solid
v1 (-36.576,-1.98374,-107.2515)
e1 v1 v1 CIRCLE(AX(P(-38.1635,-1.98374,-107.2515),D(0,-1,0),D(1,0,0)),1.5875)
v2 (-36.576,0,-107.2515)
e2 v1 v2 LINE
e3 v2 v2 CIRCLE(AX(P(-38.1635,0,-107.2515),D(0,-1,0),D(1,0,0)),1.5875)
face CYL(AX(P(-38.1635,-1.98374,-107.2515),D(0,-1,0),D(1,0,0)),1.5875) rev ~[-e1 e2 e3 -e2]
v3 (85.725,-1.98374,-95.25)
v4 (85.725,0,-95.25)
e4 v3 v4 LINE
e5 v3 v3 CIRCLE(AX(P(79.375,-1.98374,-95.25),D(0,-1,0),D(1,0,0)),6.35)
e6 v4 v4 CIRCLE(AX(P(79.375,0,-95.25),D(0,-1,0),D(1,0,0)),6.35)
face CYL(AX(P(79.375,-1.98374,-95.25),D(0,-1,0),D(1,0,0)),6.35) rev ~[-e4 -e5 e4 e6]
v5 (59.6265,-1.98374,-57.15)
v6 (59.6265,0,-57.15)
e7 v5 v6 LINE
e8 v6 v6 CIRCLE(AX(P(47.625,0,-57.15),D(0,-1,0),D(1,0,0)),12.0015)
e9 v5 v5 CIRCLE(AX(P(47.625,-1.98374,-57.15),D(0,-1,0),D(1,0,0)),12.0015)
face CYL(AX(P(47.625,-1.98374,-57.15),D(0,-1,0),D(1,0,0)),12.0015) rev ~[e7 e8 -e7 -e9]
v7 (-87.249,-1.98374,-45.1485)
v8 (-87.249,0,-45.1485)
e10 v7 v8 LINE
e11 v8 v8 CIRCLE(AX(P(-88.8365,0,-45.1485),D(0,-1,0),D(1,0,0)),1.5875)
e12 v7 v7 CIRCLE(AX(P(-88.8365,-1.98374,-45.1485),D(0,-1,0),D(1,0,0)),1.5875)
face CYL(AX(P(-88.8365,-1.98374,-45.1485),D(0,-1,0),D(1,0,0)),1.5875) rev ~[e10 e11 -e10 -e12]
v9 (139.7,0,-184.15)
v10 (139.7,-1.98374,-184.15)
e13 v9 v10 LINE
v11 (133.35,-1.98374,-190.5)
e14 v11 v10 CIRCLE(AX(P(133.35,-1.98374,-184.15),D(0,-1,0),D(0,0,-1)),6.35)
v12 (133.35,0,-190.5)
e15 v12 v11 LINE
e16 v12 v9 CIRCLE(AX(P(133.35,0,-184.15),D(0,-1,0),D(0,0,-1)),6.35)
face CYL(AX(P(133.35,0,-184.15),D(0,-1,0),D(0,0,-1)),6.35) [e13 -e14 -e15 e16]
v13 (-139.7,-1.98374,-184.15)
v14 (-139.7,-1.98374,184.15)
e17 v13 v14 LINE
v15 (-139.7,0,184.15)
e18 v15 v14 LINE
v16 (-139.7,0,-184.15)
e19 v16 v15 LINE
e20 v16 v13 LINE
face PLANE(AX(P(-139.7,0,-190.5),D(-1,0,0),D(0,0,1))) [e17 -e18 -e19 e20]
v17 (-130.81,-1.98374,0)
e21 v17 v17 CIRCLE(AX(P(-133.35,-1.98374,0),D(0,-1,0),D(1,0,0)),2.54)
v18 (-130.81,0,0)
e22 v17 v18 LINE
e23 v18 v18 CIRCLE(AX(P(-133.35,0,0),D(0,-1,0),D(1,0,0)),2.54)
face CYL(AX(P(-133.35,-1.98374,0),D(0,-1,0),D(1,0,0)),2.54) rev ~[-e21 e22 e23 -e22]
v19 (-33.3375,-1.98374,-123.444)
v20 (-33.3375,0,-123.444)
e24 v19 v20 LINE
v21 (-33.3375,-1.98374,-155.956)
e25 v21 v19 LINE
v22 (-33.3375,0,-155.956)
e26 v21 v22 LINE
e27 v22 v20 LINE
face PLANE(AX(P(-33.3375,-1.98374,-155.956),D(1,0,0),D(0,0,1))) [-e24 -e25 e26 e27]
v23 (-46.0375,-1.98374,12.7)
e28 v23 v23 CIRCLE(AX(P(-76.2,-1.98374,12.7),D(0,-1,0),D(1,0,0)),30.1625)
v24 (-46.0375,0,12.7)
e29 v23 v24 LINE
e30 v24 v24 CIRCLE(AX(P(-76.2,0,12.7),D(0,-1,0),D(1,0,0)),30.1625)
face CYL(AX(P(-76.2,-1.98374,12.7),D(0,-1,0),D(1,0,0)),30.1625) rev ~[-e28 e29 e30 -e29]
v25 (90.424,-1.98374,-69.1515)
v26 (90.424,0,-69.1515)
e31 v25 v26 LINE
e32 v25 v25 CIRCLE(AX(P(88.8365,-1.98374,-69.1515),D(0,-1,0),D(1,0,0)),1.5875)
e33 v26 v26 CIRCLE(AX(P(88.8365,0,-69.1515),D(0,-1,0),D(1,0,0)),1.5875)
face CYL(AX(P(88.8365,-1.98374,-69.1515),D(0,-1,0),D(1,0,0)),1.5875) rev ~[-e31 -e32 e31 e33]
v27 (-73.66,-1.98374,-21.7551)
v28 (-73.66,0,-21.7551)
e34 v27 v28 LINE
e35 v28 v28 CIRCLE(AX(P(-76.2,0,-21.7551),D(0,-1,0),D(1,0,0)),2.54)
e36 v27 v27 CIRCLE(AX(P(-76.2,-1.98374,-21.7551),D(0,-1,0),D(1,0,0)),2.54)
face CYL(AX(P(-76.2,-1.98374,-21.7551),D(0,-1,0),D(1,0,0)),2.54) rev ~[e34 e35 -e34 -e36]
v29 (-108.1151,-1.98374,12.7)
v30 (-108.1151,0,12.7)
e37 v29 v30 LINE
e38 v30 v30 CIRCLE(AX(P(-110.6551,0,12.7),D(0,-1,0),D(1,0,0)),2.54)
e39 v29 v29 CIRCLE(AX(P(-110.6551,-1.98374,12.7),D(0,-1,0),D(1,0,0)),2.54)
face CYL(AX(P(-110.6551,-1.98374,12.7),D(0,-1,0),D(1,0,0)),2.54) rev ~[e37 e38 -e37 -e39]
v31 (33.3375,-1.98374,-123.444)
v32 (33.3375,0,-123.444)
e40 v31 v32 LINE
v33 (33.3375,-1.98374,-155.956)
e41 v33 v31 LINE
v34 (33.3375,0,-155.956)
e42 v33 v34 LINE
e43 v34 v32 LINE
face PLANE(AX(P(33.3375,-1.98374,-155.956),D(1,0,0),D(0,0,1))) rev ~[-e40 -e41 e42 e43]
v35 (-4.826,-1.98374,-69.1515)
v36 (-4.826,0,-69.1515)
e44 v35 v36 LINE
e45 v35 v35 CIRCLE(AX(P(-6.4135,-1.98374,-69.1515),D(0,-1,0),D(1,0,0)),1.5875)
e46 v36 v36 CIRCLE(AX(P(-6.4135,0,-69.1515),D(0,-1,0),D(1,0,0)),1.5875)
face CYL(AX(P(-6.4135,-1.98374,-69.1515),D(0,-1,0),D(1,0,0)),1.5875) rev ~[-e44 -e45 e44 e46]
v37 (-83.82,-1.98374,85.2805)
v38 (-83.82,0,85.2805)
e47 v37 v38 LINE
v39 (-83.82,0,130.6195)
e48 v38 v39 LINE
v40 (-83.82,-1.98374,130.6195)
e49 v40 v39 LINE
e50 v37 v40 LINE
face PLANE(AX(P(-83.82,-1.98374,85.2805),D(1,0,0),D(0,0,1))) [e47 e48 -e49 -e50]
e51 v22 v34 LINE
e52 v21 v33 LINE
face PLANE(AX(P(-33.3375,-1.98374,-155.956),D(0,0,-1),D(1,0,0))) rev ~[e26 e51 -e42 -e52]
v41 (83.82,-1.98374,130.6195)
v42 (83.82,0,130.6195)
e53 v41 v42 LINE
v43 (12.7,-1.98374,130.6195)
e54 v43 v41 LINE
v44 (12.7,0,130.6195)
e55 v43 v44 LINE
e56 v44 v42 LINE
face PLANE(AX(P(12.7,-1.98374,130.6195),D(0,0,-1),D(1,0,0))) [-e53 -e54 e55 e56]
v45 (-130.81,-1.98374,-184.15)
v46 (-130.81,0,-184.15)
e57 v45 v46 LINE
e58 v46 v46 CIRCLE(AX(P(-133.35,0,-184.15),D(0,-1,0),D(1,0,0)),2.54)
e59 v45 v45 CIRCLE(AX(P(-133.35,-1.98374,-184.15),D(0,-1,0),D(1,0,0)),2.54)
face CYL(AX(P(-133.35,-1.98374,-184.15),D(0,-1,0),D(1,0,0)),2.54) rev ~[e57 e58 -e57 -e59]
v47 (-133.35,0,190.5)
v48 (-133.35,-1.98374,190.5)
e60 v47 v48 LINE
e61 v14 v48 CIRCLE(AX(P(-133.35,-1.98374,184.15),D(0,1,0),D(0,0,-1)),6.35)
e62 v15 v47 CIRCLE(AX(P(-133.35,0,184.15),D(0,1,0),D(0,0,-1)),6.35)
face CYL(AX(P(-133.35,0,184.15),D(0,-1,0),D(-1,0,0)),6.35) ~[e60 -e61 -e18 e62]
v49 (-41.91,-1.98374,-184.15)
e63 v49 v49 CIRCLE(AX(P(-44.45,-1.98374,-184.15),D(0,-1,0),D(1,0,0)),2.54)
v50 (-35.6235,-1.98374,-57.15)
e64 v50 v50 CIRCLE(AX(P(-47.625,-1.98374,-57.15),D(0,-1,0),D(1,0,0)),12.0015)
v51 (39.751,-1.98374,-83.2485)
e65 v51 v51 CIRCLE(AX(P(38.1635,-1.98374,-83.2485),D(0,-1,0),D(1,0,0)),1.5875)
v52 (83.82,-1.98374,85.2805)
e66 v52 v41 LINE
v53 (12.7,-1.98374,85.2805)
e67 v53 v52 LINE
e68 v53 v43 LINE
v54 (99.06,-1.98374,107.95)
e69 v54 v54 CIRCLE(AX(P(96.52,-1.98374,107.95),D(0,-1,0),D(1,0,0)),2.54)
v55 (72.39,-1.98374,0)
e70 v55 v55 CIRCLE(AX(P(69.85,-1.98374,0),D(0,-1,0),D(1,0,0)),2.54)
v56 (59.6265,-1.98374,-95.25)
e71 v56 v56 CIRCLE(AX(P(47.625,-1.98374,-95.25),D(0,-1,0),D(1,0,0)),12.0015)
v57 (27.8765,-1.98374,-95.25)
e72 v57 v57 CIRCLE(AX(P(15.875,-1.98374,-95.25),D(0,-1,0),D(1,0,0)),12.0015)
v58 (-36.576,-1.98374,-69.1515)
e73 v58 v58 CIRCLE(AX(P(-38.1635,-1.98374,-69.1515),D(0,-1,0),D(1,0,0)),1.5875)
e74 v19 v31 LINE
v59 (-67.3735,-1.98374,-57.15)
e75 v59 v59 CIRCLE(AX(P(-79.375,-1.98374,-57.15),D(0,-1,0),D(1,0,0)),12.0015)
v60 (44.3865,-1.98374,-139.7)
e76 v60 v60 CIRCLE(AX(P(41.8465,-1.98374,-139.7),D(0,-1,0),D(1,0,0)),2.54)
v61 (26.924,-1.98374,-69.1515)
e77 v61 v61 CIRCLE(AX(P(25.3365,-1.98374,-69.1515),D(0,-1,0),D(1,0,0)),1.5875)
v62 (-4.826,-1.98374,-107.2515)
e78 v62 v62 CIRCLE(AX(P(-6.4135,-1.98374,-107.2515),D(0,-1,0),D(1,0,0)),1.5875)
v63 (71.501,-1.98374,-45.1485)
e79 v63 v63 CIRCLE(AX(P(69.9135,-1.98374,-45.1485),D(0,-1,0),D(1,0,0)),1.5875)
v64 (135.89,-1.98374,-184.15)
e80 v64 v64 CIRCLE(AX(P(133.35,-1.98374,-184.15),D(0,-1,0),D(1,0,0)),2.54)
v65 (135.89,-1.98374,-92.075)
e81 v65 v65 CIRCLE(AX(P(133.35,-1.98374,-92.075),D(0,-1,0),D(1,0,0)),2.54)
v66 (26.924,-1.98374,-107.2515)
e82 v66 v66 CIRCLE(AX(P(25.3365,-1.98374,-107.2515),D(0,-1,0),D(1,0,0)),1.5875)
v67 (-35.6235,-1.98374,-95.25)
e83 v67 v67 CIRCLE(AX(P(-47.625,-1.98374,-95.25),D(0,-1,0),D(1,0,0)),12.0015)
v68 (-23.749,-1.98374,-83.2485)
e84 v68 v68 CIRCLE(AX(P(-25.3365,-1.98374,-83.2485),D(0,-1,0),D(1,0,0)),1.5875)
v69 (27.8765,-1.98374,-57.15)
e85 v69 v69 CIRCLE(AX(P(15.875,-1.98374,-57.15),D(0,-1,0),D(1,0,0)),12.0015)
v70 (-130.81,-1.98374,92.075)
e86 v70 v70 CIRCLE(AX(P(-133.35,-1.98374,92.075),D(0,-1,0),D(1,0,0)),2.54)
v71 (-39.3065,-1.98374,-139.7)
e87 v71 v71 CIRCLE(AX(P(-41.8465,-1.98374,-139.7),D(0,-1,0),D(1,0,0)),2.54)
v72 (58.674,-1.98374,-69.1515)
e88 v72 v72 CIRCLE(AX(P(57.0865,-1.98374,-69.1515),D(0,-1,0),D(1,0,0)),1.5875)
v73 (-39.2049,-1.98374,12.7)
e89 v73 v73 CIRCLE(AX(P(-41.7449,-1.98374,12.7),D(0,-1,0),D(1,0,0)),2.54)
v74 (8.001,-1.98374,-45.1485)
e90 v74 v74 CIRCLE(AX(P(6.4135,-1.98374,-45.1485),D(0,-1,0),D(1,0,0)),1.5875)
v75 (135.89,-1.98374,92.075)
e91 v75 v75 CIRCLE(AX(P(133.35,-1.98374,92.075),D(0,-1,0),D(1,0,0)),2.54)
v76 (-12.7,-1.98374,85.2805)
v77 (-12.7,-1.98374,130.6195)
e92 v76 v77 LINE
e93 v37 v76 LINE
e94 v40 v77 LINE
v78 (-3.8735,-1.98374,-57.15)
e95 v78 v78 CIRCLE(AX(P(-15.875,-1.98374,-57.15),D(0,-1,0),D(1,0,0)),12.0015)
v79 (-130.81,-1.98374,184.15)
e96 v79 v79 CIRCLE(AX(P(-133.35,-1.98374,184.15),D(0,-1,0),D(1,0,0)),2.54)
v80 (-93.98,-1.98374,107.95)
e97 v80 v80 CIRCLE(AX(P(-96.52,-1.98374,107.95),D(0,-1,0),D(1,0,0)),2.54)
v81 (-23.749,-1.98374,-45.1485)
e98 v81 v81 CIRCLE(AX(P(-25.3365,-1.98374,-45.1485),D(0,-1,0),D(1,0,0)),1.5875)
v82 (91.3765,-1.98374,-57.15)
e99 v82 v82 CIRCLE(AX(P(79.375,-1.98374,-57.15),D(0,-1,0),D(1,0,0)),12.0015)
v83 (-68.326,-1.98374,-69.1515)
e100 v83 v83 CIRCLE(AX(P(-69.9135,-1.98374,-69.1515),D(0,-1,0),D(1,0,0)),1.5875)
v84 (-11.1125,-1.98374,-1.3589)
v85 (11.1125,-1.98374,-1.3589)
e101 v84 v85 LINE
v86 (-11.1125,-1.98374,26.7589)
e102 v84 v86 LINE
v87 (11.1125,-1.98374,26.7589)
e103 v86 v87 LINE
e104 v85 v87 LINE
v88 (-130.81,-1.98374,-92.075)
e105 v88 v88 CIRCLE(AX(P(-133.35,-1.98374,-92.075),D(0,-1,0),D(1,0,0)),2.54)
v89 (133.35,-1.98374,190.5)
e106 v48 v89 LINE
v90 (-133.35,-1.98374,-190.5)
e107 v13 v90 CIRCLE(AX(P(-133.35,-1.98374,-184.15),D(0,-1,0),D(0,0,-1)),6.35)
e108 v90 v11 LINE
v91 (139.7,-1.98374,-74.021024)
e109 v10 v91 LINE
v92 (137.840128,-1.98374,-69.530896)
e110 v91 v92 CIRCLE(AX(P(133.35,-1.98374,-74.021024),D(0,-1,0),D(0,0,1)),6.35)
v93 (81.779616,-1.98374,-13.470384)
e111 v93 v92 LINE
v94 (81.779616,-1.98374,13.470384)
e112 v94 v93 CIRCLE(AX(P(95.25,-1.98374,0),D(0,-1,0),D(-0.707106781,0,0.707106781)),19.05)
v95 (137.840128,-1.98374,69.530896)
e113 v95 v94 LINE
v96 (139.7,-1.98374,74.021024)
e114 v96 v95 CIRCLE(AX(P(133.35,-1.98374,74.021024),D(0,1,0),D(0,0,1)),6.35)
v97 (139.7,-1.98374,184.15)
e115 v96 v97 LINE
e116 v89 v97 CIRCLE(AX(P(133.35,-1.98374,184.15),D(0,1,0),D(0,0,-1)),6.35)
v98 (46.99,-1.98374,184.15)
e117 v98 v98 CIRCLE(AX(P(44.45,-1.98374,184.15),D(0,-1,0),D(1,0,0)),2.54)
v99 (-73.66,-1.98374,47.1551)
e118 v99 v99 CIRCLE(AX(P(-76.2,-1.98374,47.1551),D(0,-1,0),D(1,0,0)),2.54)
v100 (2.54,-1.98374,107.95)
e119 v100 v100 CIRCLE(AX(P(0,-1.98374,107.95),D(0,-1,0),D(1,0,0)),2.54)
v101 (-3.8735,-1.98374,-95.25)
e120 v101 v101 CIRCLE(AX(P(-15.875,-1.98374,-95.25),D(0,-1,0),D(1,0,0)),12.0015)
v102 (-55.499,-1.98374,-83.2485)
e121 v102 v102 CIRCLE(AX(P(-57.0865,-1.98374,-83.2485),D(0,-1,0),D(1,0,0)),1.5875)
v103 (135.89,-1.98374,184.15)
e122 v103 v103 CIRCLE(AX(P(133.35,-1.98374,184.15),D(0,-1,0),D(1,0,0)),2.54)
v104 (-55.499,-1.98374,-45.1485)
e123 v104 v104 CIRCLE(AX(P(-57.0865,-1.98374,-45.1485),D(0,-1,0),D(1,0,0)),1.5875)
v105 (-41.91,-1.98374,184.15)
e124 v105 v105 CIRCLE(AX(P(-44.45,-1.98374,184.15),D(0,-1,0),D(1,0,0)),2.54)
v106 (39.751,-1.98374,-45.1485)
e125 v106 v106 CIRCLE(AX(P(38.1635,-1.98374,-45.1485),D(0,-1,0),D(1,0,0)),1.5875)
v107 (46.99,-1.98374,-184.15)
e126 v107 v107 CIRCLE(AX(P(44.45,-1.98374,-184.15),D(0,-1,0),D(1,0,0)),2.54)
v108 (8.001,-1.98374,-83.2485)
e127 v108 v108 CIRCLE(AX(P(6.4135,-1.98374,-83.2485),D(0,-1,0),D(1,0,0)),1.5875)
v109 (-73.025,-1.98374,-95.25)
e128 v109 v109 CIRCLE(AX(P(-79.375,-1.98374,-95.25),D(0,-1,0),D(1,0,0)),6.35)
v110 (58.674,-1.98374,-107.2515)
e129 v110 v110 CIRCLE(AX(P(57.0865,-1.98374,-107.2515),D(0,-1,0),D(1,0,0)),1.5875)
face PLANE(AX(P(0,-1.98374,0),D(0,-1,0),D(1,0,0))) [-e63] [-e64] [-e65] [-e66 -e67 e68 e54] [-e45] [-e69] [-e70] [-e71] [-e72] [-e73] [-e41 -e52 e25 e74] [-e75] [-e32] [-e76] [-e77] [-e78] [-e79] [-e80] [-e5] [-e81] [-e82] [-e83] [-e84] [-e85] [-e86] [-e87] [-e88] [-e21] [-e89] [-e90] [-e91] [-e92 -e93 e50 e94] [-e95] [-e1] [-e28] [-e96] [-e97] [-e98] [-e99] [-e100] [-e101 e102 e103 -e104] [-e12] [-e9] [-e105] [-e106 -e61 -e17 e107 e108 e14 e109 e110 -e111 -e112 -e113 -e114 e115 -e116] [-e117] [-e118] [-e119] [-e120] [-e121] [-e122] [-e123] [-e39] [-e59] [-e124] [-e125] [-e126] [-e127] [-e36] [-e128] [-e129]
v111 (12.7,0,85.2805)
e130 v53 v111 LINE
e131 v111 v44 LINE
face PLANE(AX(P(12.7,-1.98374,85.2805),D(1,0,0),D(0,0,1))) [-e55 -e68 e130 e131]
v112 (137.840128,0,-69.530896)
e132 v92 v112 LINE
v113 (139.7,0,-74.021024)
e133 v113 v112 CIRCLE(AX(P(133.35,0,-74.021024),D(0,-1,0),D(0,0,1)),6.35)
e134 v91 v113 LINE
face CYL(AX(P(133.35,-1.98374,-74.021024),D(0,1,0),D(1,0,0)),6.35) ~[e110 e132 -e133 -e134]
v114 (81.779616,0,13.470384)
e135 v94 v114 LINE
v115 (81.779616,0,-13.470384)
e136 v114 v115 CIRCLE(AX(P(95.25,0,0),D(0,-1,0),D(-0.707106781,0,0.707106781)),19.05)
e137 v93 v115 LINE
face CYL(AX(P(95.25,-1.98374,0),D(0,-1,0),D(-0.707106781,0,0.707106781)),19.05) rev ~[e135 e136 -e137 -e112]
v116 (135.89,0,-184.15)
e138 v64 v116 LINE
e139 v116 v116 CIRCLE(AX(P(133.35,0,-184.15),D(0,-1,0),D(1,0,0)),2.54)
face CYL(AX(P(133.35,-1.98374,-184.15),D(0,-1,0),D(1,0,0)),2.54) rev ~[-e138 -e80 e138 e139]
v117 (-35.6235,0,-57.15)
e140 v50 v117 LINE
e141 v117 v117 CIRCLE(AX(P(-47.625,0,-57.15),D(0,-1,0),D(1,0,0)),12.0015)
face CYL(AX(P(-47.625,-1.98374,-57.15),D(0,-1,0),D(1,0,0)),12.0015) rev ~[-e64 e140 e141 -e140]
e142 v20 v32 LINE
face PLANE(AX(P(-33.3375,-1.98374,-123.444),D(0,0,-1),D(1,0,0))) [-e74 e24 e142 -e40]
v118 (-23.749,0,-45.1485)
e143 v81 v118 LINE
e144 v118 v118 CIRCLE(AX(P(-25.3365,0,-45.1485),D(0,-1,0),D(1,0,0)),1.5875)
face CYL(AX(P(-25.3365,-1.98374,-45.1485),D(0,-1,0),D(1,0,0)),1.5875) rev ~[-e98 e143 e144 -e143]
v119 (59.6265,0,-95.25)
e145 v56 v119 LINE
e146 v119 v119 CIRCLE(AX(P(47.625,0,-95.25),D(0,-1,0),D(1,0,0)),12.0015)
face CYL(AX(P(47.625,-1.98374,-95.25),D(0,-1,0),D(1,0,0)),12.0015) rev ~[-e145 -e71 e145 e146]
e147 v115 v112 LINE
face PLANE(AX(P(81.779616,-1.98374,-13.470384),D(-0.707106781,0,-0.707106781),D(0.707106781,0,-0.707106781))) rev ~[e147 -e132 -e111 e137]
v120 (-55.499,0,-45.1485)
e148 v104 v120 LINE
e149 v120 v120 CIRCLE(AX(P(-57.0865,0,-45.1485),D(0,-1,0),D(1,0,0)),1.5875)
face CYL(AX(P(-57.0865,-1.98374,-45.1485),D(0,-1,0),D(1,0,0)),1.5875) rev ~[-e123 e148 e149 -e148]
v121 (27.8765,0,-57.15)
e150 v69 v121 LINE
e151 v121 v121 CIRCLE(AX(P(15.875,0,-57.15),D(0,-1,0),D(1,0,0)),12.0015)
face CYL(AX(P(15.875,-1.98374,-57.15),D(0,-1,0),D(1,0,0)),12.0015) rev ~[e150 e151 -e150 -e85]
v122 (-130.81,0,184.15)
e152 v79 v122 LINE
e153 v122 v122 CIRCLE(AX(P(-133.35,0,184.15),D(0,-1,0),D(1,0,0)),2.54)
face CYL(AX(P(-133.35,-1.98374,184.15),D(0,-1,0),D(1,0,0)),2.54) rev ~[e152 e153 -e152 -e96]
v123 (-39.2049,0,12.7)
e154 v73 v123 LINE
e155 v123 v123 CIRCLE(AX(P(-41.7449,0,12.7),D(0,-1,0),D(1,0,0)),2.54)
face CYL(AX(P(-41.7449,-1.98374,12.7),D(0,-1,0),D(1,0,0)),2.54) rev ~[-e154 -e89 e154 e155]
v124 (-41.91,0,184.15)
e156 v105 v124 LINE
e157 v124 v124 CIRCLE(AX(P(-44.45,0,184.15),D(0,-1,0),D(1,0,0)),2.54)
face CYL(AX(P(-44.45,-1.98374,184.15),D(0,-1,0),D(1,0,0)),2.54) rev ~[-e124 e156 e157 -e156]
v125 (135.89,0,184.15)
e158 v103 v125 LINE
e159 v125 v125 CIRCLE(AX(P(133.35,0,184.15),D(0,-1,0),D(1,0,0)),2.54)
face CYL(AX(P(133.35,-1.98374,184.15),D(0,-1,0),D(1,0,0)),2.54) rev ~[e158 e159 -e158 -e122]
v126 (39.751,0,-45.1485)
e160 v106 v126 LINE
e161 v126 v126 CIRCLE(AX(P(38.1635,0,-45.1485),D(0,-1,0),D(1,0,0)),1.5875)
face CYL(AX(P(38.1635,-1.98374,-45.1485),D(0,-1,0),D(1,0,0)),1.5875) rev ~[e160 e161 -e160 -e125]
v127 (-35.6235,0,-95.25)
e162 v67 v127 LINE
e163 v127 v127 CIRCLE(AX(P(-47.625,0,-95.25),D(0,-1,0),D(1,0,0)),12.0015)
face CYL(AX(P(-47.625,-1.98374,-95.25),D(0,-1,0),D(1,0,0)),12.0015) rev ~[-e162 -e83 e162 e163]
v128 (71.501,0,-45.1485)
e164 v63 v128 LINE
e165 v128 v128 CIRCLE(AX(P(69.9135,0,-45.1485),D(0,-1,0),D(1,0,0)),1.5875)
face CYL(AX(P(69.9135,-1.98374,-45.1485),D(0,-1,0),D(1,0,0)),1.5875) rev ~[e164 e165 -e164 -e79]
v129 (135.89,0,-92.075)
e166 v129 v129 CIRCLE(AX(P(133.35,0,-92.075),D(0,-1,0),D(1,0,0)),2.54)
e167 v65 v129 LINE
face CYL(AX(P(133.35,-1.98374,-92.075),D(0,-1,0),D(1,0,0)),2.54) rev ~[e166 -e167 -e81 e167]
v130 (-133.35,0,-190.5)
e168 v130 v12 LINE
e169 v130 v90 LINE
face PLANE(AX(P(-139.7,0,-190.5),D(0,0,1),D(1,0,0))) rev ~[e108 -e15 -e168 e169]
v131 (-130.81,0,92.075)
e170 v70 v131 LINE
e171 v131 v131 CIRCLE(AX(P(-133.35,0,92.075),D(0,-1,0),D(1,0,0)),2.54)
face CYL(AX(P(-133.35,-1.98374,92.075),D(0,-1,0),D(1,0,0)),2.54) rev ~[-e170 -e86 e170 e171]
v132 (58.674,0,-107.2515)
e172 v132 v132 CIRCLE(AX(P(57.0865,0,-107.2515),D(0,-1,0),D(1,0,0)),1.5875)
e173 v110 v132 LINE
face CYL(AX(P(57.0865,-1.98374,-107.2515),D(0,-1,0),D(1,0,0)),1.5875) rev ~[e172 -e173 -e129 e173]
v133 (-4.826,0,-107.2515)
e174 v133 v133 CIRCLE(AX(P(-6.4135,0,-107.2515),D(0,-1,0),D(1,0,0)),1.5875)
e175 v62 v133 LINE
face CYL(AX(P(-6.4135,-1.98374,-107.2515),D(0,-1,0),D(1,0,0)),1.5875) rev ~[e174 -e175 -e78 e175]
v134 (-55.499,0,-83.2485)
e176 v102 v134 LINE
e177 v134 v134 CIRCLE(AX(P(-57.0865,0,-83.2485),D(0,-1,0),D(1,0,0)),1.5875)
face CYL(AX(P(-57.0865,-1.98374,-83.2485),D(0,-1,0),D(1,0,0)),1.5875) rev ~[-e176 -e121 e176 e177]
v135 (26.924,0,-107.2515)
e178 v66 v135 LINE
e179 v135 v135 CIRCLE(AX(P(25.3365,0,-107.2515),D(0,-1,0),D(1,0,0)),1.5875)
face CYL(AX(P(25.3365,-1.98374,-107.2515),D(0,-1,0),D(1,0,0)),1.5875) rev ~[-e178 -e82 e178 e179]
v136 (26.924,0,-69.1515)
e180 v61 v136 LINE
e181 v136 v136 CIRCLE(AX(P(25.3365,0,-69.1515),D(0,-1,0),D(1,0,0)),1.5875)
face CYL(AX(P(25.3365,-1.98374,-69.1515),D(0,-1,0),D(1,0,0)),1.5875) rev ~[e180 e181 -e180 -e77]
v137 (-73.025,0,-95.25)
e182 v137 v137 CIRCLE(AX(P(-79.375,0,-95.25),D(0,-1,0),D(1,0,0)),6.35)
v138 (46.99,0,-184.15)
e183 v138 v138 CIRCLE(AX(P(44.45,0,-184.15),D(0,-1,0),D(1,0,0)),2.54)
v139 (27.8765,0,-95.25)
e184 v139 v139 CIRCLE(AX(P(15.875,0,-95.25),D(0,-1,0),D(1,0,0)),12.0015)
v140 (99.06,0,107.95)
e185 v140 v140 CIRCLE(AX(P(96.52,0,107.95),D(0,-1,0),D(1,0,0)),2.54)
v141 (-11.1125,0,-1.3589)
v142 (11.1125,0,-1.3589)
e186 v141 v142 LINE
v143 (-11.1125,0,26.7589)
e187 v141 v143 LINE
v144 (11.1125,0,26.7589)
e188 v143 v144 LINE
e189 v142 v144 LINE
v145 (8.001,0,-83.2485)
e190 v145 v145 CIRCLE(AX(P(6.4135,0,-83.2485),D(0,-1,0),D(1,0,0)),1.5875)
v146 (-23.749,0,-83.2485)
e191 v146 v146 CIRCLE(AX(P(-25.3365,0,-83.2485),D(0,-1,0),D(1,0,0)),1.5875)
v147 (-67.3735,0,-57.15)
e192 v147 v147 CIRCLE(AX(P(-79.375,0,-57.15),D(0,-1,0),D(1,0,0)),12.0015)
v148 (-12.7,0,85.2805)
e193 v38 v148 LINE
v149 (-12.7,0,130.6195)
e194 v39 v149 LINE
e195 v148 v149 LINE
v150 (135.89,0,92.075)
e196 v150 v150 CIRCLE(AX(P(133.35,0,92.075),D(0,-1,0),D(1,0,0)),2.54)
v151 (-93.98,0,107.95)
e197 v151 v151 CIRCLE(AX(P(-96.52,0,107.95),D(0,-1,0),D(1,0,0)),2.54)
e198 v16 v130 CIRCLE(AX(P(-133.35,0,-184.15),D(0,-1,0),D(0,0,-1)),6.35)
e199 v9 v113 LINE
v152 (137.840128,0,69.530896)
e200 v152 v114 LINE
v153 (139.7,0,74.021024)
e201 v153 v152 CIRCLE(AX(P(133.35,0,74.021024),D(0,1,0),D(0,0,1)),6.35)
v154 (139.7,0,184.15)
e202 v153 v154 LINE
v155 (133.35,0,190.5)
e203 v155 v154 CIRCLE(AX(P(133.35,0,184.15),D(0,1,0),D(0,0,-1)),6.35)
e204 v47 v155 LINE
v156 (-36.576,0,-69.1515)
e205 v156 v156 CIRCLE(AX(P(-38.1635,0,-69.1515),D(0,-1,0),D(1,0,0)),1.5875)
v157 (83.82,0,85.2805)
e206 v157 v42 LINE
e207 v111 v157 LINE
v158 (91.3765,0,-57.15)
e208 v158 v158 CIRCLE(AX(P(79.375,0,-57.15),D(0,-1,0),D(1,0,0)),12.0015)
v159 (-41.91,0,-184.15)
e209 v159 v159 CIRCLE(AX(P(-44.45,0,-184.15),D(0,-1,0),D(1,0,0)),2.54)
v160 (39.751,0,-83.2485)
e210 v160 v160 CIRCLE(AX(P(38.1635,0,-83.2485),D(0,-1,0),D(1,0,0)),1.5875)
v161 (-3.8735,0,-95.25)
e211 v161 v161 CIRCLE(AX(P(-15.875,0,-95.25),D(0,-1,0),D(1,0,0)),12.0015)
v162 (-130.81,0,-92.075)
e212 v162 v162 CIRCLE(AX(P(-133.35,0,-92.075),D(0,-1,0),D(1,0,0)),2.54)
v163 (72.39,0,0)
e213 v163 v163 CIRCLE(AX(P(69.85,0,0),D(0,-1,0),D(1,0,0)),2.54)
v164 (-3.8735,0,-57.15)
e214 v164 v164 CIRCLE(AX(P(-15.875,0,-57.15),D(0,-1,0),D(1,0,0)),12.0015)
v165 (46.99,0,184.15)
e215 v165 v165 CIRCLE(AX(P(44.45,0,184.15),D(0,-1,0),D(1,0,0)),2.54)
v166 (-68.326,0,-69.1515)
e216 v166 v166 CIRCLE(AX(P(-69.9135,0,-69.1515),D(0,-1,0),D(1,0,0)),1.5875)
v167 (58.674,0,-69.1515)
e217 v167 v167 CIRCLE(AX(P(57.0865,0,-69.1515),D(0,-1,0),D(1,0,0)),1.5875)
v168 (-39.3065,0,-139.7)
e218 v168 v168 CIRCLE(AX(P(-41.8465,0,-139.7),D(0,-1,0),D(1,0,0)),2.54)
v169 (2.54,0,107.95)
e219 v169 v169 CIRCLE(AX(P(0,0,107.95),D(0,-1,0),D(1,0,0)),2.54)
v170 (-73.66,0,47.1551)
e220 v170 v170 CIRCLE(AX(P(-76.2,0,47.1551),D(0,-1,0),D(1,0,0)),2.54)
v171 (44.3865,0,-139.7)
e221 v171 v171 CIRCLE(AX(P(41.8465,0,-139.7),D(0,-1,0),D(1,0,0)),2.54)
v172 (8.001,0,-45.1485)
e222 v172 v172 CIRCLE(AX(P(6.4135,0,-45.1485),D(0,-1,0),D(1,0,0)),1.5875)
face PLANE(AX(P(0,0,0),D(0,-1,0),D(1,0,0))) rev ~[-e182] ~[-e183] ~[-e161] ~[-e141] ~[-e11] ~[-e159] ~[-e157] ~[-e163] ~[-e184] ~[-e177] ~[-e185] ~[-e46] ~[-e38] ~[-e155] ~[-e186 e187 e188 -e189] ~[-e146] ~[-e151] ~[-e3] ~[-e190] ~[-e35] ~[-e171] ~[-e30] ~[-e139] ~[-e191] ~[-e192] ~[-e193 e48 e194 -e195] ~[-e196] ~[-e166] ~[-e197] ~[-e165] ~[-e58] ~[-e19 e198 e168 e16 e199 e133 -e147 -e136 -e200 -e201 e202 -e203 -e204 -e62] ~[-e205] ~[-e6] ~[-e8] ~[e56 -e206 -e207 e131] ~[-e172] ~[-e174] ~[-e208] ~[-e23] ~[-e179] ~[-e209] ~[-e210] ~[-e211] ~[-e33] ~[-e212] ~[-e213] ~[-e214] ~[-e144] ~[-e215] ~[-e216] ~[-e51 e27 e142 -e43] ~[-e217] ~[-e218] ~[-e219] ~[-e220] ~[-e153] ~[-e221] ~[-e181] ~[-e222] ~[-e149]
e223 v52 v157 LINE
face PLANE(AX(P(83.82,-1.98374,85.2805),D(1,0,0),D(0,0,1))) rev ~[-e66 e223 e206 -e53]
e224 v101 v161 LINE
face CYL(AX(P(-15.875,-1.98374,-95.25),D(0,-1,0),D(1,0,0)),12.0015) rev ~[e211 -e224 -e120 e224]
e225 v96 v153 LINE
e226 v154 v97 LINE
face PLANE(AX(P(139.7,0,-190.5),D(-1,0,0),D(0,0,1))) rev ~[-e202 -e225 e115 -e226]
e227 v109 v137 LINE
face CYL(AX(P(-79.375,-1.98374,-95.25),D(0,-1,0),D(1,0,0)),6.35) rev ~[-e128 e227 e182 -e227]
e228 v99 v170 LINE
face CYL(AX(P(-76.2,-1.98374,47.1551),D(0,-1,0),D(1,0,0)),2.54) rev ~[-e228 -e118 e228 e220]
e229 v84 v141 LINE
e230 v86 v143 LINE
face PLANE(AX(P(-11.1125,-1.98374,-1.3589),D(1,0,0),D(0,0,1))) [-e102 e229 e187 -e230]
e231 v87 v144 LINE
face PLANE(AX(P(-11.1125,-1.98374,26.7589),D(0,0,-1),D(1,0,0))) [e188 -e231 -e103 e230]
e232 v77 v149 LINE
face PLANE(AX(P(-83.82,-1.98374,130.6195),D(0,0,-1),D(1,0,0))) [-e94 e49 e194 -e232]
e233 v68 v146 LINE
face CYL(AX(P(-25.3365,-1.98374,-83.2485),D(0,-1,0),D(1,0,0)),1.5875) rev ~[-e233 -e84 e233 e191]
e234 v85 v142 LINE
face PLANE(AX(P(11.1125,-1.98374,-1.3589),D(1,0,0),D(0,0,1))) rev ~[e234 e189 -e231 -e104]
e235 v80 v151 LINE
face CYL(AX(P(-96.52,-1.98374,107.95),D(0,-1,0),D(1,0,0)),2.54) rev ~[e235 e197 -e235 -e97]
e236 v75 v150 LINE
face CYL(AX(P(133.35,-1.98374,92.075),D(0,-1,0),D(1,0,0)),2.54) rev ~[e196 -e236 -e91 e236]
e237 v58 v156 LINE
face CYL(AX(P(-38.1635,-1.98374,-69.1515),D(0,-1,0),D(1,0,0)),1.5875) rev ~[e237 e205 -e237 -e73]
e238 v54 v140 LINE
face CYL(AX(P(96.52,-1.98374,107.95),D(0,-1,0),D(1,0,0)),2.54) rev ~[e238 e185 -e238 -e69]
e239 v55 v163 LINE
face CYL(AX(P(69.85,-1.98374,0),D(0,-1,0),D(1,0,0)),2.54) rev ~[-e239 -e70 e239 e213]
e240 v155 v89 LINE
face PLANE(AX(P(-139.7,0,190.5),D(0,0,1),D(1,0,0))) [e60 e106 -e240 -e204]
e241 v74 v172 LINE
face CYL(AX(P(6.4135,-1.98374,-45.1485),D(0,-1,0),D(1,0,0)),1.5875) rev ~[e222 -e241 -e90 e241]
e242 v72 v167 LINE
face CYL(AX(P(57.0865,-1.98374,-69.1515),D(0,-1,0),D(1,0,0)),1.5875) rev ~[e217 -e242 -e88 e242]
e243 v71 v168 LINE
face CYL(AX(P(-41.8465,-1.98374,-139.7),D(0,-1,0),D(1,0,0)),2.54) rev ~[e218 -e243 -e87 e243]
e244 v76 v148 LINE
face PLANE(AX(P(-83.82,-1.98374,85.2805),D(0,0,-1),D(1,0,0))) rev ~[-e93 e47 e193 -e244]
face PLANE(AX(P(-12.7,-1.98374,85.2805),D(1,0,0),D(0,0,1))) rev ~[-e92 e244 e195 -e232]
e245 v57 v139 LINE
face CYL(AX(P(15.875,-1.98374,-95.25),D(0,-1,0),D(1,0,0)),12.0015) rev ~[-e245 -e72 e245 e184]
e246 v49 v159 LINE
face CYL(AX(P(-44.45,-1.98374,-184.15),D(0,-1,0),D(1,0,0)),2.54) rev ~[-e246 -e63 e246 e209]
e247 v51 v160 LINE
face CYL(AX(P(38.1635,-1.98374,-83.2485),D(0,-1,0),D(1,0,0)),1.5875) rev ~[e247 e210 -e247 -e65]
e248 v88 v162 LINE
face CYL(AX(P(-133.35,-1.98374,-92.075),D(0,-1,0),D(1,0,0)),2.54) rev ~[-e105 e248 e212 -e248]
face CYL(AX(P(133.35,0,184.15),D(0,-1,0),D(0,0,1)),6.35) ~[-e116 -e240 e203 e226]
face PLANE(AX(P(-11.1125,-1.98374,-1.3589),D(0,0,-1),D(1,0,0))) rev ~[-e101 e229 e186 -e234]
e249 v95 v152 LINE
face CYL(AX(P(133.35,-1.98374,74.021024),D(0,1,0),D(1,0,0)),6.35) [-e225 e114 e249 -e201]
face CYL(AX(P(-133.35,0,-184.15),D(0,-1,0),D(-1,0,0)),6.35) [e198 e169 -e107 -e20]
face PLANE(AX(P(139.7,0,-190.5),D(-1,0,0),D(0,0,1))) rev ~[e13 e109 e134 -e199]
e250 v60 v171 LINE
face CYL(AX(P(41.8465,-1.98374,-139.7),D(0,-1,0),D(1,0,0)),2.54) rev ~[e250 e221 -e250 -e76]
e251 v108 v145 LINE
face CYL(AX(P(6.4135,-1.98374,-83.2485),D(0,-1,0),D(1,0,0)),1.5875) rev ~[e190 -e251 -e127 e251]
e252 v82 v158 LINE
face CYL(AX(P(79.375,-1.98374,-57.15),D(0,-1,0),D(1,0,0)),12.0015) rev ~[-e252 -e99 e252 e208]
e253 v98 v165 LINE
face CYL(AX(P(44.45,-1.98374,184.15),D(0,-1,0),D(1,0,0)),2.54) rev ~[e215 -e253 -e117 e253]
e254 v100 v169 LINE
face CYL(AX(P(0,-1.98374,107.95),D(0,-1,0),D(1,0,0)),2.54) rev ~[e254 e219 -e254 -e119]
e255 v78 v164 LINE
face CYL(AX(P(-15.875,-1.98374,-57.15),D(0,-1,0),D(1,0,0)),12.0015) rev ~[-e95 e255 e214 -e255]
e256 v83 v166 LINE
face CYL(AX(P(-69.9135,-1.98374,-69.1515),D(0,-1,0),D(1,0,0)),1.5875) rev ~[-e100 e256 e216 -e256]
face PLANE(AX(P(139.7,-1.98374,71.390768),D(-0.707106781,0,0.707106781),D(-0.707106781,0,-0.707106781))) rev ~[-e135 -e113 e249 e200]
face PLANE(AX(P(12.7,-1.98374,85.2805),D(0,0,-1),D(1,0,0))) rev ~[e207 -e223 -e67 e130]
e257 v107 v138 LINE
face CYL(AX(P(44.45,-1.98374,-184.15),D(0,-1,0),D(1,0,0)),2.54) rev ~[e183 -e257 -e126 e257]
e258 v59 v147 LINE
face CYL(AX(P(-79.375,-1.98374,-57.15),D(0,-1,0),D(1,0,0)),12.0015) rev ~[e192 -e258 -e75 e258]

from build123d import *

# Parameters (mm, degrees)
F0_W      = 279.4
F0_H      = 381
F1_DEPTH  = 1.98374
F6_R      = 12.0015
F6_R_2    = 1.5875
F3_R      = 30.1625
F3_R_2    = 2.54
F5_W      = 71.12
F5_H      = 45.339
F5_R      = 2.54
F7_R      = 12.0015
F7_R_2    = 1.5875
F7_R_3    = 6.35
F4_W      = 22.225
F4_H      = 28.1178
F8_W      = 66.675
F8_H      = 32.512
F8_R      = 2.54
F9_DEPTH  = 25.4
F11_DEPTH = 25.4
F12_R     = 2.54
F13_DEPTH = 25.4
F14_R     = 6.35


with BuildPart() as f1:
    # F0 (on Front) → F1 (new body)
    with BuildSketch(Plane.XZ):
        Rectangle(F0_W, F0_H)
    extrude(amount=F1_DEPTH)

    # F6 (on face) + F3 (on face) + F5 (on face) + F7 (on face) + F4 (on face) + F8 (on face) → F9 (cut)
    with BuildSketch(Plane.XZ.offset(1.98374)):
        with Locations((-79.375, -57.15)):
            Circle(F6_R)
        with Locations((-88.8365, -45.1485)):
            Circle(F6_R_2)
        with Locations((-69.9135, -69.1515)):
            Circle(F6_R_2)
        with Locations((-47.625, -57.15)):
            Circle(F6_R)
        with Locations((-57.0865, -45.1485)):
            Circle(F6_R_2)
        with Locations((-38.1635, -69.1515)):
            Circle(F6_R_2)
        with Locations((-15.875, -57.15)):
            Circle(F6_R)
        with Locations((-25.3365, -45.1485)):
            Circle(F6_R_2)
        with Locations((-6.4135, -69.1515)):
            Circle(F6_R_2)
        with Locations((15.875, -57.15)):
            Circle(F6_R)
        with Locations((6.4135, -45.1485)):
            Circle(F6_R_2)
        with Locations((25.3365, -69.1515)):
            Circle(F6_R_2)
        with Locations((47.625, -57.15)):
            Circle(F6_R)
        with Locations((38.1635, -45.1485)):
            Circle(F6_R_2)
        with Locations((57.0865, -69.1515)):
            Circle(F6_R_2)
        with Locations((79.375, -57.15)):
            Circle(F6_R)
        with Locations((69.9135, -45.1485)):
            Circle(F6_R_2)
        with Locations((88.8365, -69.1515)):
            Circle(F6_R_2)
    with BuildSketch(Plane.XZ.offset(1.98374)):
        with Locations((-76.2, 12.7)):
            Circle(F3_R)
        with Locations((-76.2, 47.1551)):
            Circle(F3_R_2)
        with Locations((-41.7449, 12.7)):
            Circle(F3_R_2)
        with Locations((-76.2, -21.7551)):
            Circle(F3_R_2)
        with Locations((-110.6551, 12.7)):
            Circle(F3_R_2)
    with BuildSketch(Plane.XZ.offset(1.98374)):
        with Locations((-48.26, 107.95)):
            Rectangle(F5_W, F5_H)
        with Locations((48.26, 107.95)):
            Rectangle(F5_W, F5_H)
        with Locations((-96.52, 107.95)):
            Circle(F5_R)
        with Locations((96.52, 107.95)):
            Circle(F5_R)
        with Locations((0, 107.95)):
            Circle(F5_R)
    with BuildSketch(Plane.XZ.offset(1.98374)):
        with Locations((-47.625, -95.25)):
            Circle(F7_R)
        with Locations((-57.0865, -83.2485)):
            Circle(F7_R_2)
        with Locations((-38.1635, -107.2515)):
            Circle(F7_R_2)
        with Locations((-15.875, -95.25)):
            Circle(F7_R)
        with Locations((-25.3365, -83.2485)):
            Circle(F7_R_2)
        with Locations((-6.4135, -107.2515)):
            Circle(F7_R_2)
        with Locations((15.875, -95.25)):
            Circle(F7_R)
        with Locations((6.4135, -83.2485)):
            Circle(F7_R_2)
        with Locations((25.3365, -107.2515)):
            Circle(F7_R_2)
        with Locations((47.625, -95.25)):
            Circle(F7_R)
        with Locations((38.1635, -83.2485)):
            Circle(F7_R_2)
        with Locations((57.0865, -107.2515)):
            Circle(F7_R_2)
        with Locations((-79.375, -95.25)):
            Circle(F7_R_3)
        with Locations((79.375, -95.25)):
            Circle(F7_R_3)
    with BuildSketch(Plane.XZ.offset(1.98374)):
        with Locations((0, 12.7)):
            Rectangle(F4_W, F4_H)
    with BuildSketch(Plane.XZ.offset(1.98374)):
        with Locations((0, -139.7)):
            Rectangle(F8_W, F8_H)
        with Locations((-41.8465, -139.7)):
            Circle(F8_R)
        with Locations((41.8465, -139.7)):
            Circle(F8_R)
    extrude(amount=-F9_DEPTH, mode=Mode.SUBTRACT)

    # F10 (on face) → F11 (cut)
    with BuildSketch(Plane.XZ.offset(1.98374)):
        with BuildLine():
            Line((139.7, 71.3907683632), (81.7796158184, 13.4703841816))
            ThreePointArc((81.7796158184, 13.4703841816), (76.2, 0), (81.7796158184, -13.4703841816))
            Line((81.7796158184, -13.4703841816), (139.7, -71.3907683632))
            Line((139.7, -71.3907683632), (139.7, 71.3907683632))
        make_face()
    extrude(amount=-F11_DEPTH, mode=Mode.SUBTRACT)

    # F12 (on face) → F13 (cut)
    with BuildSketch(Plane.XZ.offset(1.98374)):
        with Locations((-133.35, 184.15)):
            Circle(F12_R)
        with Locations((133.35, 184.15)):
            Circle(F12_R)
        with Locations((133.35, 92.075)):
            Circle(F12_R)
        with Locations((133.35, -92.075)):
            Circle(F12_R)
        with Locations((133.35, -184.15)):
            Circle(F12_R)
        with Locations((-133.35, -184.15)):
            Circle(F12_R)
        with Locations((-133.35, -92.075)):
            Circle(F12_R)
        with Locations((-133.35, 92.075)):
            Circle(F12_R)
        with Locations((-133.35, 0)):
            Circle(F12_R)
        with Locations((-44.45, 184.15)):
            Circle(F12_R)
        with Locations((-44.45, -184.15)):
            Circle(F12_R)
        with Locations((44.45, 184.15)):
            Circle(F12_R)
        with Locations((44.45, -184.15)):
            Circle(F12_R)
        with Locations((69.85, 0)):
            Circle(F12_R)
    extrude(amount=-F13_DEPTH, mode=Mode.SUBTRACT)

    # F14
    f14_edges = [f1.edges().sort_by_distance(p)[0] for p in [
        (-139.7, -0.99187, 190.5),
        (139.7, -0.99187, 190.5),
        (139.7, -0.99187, 71.390768),
        (139.7, -0.99187, -71.390768),
        (139.7, -0.99187, -190.5),
        (-139.7, -0.99187, -190.5),
    ]]
    fillet(f14_edges, radius=F14_R)


solid = f1.part
